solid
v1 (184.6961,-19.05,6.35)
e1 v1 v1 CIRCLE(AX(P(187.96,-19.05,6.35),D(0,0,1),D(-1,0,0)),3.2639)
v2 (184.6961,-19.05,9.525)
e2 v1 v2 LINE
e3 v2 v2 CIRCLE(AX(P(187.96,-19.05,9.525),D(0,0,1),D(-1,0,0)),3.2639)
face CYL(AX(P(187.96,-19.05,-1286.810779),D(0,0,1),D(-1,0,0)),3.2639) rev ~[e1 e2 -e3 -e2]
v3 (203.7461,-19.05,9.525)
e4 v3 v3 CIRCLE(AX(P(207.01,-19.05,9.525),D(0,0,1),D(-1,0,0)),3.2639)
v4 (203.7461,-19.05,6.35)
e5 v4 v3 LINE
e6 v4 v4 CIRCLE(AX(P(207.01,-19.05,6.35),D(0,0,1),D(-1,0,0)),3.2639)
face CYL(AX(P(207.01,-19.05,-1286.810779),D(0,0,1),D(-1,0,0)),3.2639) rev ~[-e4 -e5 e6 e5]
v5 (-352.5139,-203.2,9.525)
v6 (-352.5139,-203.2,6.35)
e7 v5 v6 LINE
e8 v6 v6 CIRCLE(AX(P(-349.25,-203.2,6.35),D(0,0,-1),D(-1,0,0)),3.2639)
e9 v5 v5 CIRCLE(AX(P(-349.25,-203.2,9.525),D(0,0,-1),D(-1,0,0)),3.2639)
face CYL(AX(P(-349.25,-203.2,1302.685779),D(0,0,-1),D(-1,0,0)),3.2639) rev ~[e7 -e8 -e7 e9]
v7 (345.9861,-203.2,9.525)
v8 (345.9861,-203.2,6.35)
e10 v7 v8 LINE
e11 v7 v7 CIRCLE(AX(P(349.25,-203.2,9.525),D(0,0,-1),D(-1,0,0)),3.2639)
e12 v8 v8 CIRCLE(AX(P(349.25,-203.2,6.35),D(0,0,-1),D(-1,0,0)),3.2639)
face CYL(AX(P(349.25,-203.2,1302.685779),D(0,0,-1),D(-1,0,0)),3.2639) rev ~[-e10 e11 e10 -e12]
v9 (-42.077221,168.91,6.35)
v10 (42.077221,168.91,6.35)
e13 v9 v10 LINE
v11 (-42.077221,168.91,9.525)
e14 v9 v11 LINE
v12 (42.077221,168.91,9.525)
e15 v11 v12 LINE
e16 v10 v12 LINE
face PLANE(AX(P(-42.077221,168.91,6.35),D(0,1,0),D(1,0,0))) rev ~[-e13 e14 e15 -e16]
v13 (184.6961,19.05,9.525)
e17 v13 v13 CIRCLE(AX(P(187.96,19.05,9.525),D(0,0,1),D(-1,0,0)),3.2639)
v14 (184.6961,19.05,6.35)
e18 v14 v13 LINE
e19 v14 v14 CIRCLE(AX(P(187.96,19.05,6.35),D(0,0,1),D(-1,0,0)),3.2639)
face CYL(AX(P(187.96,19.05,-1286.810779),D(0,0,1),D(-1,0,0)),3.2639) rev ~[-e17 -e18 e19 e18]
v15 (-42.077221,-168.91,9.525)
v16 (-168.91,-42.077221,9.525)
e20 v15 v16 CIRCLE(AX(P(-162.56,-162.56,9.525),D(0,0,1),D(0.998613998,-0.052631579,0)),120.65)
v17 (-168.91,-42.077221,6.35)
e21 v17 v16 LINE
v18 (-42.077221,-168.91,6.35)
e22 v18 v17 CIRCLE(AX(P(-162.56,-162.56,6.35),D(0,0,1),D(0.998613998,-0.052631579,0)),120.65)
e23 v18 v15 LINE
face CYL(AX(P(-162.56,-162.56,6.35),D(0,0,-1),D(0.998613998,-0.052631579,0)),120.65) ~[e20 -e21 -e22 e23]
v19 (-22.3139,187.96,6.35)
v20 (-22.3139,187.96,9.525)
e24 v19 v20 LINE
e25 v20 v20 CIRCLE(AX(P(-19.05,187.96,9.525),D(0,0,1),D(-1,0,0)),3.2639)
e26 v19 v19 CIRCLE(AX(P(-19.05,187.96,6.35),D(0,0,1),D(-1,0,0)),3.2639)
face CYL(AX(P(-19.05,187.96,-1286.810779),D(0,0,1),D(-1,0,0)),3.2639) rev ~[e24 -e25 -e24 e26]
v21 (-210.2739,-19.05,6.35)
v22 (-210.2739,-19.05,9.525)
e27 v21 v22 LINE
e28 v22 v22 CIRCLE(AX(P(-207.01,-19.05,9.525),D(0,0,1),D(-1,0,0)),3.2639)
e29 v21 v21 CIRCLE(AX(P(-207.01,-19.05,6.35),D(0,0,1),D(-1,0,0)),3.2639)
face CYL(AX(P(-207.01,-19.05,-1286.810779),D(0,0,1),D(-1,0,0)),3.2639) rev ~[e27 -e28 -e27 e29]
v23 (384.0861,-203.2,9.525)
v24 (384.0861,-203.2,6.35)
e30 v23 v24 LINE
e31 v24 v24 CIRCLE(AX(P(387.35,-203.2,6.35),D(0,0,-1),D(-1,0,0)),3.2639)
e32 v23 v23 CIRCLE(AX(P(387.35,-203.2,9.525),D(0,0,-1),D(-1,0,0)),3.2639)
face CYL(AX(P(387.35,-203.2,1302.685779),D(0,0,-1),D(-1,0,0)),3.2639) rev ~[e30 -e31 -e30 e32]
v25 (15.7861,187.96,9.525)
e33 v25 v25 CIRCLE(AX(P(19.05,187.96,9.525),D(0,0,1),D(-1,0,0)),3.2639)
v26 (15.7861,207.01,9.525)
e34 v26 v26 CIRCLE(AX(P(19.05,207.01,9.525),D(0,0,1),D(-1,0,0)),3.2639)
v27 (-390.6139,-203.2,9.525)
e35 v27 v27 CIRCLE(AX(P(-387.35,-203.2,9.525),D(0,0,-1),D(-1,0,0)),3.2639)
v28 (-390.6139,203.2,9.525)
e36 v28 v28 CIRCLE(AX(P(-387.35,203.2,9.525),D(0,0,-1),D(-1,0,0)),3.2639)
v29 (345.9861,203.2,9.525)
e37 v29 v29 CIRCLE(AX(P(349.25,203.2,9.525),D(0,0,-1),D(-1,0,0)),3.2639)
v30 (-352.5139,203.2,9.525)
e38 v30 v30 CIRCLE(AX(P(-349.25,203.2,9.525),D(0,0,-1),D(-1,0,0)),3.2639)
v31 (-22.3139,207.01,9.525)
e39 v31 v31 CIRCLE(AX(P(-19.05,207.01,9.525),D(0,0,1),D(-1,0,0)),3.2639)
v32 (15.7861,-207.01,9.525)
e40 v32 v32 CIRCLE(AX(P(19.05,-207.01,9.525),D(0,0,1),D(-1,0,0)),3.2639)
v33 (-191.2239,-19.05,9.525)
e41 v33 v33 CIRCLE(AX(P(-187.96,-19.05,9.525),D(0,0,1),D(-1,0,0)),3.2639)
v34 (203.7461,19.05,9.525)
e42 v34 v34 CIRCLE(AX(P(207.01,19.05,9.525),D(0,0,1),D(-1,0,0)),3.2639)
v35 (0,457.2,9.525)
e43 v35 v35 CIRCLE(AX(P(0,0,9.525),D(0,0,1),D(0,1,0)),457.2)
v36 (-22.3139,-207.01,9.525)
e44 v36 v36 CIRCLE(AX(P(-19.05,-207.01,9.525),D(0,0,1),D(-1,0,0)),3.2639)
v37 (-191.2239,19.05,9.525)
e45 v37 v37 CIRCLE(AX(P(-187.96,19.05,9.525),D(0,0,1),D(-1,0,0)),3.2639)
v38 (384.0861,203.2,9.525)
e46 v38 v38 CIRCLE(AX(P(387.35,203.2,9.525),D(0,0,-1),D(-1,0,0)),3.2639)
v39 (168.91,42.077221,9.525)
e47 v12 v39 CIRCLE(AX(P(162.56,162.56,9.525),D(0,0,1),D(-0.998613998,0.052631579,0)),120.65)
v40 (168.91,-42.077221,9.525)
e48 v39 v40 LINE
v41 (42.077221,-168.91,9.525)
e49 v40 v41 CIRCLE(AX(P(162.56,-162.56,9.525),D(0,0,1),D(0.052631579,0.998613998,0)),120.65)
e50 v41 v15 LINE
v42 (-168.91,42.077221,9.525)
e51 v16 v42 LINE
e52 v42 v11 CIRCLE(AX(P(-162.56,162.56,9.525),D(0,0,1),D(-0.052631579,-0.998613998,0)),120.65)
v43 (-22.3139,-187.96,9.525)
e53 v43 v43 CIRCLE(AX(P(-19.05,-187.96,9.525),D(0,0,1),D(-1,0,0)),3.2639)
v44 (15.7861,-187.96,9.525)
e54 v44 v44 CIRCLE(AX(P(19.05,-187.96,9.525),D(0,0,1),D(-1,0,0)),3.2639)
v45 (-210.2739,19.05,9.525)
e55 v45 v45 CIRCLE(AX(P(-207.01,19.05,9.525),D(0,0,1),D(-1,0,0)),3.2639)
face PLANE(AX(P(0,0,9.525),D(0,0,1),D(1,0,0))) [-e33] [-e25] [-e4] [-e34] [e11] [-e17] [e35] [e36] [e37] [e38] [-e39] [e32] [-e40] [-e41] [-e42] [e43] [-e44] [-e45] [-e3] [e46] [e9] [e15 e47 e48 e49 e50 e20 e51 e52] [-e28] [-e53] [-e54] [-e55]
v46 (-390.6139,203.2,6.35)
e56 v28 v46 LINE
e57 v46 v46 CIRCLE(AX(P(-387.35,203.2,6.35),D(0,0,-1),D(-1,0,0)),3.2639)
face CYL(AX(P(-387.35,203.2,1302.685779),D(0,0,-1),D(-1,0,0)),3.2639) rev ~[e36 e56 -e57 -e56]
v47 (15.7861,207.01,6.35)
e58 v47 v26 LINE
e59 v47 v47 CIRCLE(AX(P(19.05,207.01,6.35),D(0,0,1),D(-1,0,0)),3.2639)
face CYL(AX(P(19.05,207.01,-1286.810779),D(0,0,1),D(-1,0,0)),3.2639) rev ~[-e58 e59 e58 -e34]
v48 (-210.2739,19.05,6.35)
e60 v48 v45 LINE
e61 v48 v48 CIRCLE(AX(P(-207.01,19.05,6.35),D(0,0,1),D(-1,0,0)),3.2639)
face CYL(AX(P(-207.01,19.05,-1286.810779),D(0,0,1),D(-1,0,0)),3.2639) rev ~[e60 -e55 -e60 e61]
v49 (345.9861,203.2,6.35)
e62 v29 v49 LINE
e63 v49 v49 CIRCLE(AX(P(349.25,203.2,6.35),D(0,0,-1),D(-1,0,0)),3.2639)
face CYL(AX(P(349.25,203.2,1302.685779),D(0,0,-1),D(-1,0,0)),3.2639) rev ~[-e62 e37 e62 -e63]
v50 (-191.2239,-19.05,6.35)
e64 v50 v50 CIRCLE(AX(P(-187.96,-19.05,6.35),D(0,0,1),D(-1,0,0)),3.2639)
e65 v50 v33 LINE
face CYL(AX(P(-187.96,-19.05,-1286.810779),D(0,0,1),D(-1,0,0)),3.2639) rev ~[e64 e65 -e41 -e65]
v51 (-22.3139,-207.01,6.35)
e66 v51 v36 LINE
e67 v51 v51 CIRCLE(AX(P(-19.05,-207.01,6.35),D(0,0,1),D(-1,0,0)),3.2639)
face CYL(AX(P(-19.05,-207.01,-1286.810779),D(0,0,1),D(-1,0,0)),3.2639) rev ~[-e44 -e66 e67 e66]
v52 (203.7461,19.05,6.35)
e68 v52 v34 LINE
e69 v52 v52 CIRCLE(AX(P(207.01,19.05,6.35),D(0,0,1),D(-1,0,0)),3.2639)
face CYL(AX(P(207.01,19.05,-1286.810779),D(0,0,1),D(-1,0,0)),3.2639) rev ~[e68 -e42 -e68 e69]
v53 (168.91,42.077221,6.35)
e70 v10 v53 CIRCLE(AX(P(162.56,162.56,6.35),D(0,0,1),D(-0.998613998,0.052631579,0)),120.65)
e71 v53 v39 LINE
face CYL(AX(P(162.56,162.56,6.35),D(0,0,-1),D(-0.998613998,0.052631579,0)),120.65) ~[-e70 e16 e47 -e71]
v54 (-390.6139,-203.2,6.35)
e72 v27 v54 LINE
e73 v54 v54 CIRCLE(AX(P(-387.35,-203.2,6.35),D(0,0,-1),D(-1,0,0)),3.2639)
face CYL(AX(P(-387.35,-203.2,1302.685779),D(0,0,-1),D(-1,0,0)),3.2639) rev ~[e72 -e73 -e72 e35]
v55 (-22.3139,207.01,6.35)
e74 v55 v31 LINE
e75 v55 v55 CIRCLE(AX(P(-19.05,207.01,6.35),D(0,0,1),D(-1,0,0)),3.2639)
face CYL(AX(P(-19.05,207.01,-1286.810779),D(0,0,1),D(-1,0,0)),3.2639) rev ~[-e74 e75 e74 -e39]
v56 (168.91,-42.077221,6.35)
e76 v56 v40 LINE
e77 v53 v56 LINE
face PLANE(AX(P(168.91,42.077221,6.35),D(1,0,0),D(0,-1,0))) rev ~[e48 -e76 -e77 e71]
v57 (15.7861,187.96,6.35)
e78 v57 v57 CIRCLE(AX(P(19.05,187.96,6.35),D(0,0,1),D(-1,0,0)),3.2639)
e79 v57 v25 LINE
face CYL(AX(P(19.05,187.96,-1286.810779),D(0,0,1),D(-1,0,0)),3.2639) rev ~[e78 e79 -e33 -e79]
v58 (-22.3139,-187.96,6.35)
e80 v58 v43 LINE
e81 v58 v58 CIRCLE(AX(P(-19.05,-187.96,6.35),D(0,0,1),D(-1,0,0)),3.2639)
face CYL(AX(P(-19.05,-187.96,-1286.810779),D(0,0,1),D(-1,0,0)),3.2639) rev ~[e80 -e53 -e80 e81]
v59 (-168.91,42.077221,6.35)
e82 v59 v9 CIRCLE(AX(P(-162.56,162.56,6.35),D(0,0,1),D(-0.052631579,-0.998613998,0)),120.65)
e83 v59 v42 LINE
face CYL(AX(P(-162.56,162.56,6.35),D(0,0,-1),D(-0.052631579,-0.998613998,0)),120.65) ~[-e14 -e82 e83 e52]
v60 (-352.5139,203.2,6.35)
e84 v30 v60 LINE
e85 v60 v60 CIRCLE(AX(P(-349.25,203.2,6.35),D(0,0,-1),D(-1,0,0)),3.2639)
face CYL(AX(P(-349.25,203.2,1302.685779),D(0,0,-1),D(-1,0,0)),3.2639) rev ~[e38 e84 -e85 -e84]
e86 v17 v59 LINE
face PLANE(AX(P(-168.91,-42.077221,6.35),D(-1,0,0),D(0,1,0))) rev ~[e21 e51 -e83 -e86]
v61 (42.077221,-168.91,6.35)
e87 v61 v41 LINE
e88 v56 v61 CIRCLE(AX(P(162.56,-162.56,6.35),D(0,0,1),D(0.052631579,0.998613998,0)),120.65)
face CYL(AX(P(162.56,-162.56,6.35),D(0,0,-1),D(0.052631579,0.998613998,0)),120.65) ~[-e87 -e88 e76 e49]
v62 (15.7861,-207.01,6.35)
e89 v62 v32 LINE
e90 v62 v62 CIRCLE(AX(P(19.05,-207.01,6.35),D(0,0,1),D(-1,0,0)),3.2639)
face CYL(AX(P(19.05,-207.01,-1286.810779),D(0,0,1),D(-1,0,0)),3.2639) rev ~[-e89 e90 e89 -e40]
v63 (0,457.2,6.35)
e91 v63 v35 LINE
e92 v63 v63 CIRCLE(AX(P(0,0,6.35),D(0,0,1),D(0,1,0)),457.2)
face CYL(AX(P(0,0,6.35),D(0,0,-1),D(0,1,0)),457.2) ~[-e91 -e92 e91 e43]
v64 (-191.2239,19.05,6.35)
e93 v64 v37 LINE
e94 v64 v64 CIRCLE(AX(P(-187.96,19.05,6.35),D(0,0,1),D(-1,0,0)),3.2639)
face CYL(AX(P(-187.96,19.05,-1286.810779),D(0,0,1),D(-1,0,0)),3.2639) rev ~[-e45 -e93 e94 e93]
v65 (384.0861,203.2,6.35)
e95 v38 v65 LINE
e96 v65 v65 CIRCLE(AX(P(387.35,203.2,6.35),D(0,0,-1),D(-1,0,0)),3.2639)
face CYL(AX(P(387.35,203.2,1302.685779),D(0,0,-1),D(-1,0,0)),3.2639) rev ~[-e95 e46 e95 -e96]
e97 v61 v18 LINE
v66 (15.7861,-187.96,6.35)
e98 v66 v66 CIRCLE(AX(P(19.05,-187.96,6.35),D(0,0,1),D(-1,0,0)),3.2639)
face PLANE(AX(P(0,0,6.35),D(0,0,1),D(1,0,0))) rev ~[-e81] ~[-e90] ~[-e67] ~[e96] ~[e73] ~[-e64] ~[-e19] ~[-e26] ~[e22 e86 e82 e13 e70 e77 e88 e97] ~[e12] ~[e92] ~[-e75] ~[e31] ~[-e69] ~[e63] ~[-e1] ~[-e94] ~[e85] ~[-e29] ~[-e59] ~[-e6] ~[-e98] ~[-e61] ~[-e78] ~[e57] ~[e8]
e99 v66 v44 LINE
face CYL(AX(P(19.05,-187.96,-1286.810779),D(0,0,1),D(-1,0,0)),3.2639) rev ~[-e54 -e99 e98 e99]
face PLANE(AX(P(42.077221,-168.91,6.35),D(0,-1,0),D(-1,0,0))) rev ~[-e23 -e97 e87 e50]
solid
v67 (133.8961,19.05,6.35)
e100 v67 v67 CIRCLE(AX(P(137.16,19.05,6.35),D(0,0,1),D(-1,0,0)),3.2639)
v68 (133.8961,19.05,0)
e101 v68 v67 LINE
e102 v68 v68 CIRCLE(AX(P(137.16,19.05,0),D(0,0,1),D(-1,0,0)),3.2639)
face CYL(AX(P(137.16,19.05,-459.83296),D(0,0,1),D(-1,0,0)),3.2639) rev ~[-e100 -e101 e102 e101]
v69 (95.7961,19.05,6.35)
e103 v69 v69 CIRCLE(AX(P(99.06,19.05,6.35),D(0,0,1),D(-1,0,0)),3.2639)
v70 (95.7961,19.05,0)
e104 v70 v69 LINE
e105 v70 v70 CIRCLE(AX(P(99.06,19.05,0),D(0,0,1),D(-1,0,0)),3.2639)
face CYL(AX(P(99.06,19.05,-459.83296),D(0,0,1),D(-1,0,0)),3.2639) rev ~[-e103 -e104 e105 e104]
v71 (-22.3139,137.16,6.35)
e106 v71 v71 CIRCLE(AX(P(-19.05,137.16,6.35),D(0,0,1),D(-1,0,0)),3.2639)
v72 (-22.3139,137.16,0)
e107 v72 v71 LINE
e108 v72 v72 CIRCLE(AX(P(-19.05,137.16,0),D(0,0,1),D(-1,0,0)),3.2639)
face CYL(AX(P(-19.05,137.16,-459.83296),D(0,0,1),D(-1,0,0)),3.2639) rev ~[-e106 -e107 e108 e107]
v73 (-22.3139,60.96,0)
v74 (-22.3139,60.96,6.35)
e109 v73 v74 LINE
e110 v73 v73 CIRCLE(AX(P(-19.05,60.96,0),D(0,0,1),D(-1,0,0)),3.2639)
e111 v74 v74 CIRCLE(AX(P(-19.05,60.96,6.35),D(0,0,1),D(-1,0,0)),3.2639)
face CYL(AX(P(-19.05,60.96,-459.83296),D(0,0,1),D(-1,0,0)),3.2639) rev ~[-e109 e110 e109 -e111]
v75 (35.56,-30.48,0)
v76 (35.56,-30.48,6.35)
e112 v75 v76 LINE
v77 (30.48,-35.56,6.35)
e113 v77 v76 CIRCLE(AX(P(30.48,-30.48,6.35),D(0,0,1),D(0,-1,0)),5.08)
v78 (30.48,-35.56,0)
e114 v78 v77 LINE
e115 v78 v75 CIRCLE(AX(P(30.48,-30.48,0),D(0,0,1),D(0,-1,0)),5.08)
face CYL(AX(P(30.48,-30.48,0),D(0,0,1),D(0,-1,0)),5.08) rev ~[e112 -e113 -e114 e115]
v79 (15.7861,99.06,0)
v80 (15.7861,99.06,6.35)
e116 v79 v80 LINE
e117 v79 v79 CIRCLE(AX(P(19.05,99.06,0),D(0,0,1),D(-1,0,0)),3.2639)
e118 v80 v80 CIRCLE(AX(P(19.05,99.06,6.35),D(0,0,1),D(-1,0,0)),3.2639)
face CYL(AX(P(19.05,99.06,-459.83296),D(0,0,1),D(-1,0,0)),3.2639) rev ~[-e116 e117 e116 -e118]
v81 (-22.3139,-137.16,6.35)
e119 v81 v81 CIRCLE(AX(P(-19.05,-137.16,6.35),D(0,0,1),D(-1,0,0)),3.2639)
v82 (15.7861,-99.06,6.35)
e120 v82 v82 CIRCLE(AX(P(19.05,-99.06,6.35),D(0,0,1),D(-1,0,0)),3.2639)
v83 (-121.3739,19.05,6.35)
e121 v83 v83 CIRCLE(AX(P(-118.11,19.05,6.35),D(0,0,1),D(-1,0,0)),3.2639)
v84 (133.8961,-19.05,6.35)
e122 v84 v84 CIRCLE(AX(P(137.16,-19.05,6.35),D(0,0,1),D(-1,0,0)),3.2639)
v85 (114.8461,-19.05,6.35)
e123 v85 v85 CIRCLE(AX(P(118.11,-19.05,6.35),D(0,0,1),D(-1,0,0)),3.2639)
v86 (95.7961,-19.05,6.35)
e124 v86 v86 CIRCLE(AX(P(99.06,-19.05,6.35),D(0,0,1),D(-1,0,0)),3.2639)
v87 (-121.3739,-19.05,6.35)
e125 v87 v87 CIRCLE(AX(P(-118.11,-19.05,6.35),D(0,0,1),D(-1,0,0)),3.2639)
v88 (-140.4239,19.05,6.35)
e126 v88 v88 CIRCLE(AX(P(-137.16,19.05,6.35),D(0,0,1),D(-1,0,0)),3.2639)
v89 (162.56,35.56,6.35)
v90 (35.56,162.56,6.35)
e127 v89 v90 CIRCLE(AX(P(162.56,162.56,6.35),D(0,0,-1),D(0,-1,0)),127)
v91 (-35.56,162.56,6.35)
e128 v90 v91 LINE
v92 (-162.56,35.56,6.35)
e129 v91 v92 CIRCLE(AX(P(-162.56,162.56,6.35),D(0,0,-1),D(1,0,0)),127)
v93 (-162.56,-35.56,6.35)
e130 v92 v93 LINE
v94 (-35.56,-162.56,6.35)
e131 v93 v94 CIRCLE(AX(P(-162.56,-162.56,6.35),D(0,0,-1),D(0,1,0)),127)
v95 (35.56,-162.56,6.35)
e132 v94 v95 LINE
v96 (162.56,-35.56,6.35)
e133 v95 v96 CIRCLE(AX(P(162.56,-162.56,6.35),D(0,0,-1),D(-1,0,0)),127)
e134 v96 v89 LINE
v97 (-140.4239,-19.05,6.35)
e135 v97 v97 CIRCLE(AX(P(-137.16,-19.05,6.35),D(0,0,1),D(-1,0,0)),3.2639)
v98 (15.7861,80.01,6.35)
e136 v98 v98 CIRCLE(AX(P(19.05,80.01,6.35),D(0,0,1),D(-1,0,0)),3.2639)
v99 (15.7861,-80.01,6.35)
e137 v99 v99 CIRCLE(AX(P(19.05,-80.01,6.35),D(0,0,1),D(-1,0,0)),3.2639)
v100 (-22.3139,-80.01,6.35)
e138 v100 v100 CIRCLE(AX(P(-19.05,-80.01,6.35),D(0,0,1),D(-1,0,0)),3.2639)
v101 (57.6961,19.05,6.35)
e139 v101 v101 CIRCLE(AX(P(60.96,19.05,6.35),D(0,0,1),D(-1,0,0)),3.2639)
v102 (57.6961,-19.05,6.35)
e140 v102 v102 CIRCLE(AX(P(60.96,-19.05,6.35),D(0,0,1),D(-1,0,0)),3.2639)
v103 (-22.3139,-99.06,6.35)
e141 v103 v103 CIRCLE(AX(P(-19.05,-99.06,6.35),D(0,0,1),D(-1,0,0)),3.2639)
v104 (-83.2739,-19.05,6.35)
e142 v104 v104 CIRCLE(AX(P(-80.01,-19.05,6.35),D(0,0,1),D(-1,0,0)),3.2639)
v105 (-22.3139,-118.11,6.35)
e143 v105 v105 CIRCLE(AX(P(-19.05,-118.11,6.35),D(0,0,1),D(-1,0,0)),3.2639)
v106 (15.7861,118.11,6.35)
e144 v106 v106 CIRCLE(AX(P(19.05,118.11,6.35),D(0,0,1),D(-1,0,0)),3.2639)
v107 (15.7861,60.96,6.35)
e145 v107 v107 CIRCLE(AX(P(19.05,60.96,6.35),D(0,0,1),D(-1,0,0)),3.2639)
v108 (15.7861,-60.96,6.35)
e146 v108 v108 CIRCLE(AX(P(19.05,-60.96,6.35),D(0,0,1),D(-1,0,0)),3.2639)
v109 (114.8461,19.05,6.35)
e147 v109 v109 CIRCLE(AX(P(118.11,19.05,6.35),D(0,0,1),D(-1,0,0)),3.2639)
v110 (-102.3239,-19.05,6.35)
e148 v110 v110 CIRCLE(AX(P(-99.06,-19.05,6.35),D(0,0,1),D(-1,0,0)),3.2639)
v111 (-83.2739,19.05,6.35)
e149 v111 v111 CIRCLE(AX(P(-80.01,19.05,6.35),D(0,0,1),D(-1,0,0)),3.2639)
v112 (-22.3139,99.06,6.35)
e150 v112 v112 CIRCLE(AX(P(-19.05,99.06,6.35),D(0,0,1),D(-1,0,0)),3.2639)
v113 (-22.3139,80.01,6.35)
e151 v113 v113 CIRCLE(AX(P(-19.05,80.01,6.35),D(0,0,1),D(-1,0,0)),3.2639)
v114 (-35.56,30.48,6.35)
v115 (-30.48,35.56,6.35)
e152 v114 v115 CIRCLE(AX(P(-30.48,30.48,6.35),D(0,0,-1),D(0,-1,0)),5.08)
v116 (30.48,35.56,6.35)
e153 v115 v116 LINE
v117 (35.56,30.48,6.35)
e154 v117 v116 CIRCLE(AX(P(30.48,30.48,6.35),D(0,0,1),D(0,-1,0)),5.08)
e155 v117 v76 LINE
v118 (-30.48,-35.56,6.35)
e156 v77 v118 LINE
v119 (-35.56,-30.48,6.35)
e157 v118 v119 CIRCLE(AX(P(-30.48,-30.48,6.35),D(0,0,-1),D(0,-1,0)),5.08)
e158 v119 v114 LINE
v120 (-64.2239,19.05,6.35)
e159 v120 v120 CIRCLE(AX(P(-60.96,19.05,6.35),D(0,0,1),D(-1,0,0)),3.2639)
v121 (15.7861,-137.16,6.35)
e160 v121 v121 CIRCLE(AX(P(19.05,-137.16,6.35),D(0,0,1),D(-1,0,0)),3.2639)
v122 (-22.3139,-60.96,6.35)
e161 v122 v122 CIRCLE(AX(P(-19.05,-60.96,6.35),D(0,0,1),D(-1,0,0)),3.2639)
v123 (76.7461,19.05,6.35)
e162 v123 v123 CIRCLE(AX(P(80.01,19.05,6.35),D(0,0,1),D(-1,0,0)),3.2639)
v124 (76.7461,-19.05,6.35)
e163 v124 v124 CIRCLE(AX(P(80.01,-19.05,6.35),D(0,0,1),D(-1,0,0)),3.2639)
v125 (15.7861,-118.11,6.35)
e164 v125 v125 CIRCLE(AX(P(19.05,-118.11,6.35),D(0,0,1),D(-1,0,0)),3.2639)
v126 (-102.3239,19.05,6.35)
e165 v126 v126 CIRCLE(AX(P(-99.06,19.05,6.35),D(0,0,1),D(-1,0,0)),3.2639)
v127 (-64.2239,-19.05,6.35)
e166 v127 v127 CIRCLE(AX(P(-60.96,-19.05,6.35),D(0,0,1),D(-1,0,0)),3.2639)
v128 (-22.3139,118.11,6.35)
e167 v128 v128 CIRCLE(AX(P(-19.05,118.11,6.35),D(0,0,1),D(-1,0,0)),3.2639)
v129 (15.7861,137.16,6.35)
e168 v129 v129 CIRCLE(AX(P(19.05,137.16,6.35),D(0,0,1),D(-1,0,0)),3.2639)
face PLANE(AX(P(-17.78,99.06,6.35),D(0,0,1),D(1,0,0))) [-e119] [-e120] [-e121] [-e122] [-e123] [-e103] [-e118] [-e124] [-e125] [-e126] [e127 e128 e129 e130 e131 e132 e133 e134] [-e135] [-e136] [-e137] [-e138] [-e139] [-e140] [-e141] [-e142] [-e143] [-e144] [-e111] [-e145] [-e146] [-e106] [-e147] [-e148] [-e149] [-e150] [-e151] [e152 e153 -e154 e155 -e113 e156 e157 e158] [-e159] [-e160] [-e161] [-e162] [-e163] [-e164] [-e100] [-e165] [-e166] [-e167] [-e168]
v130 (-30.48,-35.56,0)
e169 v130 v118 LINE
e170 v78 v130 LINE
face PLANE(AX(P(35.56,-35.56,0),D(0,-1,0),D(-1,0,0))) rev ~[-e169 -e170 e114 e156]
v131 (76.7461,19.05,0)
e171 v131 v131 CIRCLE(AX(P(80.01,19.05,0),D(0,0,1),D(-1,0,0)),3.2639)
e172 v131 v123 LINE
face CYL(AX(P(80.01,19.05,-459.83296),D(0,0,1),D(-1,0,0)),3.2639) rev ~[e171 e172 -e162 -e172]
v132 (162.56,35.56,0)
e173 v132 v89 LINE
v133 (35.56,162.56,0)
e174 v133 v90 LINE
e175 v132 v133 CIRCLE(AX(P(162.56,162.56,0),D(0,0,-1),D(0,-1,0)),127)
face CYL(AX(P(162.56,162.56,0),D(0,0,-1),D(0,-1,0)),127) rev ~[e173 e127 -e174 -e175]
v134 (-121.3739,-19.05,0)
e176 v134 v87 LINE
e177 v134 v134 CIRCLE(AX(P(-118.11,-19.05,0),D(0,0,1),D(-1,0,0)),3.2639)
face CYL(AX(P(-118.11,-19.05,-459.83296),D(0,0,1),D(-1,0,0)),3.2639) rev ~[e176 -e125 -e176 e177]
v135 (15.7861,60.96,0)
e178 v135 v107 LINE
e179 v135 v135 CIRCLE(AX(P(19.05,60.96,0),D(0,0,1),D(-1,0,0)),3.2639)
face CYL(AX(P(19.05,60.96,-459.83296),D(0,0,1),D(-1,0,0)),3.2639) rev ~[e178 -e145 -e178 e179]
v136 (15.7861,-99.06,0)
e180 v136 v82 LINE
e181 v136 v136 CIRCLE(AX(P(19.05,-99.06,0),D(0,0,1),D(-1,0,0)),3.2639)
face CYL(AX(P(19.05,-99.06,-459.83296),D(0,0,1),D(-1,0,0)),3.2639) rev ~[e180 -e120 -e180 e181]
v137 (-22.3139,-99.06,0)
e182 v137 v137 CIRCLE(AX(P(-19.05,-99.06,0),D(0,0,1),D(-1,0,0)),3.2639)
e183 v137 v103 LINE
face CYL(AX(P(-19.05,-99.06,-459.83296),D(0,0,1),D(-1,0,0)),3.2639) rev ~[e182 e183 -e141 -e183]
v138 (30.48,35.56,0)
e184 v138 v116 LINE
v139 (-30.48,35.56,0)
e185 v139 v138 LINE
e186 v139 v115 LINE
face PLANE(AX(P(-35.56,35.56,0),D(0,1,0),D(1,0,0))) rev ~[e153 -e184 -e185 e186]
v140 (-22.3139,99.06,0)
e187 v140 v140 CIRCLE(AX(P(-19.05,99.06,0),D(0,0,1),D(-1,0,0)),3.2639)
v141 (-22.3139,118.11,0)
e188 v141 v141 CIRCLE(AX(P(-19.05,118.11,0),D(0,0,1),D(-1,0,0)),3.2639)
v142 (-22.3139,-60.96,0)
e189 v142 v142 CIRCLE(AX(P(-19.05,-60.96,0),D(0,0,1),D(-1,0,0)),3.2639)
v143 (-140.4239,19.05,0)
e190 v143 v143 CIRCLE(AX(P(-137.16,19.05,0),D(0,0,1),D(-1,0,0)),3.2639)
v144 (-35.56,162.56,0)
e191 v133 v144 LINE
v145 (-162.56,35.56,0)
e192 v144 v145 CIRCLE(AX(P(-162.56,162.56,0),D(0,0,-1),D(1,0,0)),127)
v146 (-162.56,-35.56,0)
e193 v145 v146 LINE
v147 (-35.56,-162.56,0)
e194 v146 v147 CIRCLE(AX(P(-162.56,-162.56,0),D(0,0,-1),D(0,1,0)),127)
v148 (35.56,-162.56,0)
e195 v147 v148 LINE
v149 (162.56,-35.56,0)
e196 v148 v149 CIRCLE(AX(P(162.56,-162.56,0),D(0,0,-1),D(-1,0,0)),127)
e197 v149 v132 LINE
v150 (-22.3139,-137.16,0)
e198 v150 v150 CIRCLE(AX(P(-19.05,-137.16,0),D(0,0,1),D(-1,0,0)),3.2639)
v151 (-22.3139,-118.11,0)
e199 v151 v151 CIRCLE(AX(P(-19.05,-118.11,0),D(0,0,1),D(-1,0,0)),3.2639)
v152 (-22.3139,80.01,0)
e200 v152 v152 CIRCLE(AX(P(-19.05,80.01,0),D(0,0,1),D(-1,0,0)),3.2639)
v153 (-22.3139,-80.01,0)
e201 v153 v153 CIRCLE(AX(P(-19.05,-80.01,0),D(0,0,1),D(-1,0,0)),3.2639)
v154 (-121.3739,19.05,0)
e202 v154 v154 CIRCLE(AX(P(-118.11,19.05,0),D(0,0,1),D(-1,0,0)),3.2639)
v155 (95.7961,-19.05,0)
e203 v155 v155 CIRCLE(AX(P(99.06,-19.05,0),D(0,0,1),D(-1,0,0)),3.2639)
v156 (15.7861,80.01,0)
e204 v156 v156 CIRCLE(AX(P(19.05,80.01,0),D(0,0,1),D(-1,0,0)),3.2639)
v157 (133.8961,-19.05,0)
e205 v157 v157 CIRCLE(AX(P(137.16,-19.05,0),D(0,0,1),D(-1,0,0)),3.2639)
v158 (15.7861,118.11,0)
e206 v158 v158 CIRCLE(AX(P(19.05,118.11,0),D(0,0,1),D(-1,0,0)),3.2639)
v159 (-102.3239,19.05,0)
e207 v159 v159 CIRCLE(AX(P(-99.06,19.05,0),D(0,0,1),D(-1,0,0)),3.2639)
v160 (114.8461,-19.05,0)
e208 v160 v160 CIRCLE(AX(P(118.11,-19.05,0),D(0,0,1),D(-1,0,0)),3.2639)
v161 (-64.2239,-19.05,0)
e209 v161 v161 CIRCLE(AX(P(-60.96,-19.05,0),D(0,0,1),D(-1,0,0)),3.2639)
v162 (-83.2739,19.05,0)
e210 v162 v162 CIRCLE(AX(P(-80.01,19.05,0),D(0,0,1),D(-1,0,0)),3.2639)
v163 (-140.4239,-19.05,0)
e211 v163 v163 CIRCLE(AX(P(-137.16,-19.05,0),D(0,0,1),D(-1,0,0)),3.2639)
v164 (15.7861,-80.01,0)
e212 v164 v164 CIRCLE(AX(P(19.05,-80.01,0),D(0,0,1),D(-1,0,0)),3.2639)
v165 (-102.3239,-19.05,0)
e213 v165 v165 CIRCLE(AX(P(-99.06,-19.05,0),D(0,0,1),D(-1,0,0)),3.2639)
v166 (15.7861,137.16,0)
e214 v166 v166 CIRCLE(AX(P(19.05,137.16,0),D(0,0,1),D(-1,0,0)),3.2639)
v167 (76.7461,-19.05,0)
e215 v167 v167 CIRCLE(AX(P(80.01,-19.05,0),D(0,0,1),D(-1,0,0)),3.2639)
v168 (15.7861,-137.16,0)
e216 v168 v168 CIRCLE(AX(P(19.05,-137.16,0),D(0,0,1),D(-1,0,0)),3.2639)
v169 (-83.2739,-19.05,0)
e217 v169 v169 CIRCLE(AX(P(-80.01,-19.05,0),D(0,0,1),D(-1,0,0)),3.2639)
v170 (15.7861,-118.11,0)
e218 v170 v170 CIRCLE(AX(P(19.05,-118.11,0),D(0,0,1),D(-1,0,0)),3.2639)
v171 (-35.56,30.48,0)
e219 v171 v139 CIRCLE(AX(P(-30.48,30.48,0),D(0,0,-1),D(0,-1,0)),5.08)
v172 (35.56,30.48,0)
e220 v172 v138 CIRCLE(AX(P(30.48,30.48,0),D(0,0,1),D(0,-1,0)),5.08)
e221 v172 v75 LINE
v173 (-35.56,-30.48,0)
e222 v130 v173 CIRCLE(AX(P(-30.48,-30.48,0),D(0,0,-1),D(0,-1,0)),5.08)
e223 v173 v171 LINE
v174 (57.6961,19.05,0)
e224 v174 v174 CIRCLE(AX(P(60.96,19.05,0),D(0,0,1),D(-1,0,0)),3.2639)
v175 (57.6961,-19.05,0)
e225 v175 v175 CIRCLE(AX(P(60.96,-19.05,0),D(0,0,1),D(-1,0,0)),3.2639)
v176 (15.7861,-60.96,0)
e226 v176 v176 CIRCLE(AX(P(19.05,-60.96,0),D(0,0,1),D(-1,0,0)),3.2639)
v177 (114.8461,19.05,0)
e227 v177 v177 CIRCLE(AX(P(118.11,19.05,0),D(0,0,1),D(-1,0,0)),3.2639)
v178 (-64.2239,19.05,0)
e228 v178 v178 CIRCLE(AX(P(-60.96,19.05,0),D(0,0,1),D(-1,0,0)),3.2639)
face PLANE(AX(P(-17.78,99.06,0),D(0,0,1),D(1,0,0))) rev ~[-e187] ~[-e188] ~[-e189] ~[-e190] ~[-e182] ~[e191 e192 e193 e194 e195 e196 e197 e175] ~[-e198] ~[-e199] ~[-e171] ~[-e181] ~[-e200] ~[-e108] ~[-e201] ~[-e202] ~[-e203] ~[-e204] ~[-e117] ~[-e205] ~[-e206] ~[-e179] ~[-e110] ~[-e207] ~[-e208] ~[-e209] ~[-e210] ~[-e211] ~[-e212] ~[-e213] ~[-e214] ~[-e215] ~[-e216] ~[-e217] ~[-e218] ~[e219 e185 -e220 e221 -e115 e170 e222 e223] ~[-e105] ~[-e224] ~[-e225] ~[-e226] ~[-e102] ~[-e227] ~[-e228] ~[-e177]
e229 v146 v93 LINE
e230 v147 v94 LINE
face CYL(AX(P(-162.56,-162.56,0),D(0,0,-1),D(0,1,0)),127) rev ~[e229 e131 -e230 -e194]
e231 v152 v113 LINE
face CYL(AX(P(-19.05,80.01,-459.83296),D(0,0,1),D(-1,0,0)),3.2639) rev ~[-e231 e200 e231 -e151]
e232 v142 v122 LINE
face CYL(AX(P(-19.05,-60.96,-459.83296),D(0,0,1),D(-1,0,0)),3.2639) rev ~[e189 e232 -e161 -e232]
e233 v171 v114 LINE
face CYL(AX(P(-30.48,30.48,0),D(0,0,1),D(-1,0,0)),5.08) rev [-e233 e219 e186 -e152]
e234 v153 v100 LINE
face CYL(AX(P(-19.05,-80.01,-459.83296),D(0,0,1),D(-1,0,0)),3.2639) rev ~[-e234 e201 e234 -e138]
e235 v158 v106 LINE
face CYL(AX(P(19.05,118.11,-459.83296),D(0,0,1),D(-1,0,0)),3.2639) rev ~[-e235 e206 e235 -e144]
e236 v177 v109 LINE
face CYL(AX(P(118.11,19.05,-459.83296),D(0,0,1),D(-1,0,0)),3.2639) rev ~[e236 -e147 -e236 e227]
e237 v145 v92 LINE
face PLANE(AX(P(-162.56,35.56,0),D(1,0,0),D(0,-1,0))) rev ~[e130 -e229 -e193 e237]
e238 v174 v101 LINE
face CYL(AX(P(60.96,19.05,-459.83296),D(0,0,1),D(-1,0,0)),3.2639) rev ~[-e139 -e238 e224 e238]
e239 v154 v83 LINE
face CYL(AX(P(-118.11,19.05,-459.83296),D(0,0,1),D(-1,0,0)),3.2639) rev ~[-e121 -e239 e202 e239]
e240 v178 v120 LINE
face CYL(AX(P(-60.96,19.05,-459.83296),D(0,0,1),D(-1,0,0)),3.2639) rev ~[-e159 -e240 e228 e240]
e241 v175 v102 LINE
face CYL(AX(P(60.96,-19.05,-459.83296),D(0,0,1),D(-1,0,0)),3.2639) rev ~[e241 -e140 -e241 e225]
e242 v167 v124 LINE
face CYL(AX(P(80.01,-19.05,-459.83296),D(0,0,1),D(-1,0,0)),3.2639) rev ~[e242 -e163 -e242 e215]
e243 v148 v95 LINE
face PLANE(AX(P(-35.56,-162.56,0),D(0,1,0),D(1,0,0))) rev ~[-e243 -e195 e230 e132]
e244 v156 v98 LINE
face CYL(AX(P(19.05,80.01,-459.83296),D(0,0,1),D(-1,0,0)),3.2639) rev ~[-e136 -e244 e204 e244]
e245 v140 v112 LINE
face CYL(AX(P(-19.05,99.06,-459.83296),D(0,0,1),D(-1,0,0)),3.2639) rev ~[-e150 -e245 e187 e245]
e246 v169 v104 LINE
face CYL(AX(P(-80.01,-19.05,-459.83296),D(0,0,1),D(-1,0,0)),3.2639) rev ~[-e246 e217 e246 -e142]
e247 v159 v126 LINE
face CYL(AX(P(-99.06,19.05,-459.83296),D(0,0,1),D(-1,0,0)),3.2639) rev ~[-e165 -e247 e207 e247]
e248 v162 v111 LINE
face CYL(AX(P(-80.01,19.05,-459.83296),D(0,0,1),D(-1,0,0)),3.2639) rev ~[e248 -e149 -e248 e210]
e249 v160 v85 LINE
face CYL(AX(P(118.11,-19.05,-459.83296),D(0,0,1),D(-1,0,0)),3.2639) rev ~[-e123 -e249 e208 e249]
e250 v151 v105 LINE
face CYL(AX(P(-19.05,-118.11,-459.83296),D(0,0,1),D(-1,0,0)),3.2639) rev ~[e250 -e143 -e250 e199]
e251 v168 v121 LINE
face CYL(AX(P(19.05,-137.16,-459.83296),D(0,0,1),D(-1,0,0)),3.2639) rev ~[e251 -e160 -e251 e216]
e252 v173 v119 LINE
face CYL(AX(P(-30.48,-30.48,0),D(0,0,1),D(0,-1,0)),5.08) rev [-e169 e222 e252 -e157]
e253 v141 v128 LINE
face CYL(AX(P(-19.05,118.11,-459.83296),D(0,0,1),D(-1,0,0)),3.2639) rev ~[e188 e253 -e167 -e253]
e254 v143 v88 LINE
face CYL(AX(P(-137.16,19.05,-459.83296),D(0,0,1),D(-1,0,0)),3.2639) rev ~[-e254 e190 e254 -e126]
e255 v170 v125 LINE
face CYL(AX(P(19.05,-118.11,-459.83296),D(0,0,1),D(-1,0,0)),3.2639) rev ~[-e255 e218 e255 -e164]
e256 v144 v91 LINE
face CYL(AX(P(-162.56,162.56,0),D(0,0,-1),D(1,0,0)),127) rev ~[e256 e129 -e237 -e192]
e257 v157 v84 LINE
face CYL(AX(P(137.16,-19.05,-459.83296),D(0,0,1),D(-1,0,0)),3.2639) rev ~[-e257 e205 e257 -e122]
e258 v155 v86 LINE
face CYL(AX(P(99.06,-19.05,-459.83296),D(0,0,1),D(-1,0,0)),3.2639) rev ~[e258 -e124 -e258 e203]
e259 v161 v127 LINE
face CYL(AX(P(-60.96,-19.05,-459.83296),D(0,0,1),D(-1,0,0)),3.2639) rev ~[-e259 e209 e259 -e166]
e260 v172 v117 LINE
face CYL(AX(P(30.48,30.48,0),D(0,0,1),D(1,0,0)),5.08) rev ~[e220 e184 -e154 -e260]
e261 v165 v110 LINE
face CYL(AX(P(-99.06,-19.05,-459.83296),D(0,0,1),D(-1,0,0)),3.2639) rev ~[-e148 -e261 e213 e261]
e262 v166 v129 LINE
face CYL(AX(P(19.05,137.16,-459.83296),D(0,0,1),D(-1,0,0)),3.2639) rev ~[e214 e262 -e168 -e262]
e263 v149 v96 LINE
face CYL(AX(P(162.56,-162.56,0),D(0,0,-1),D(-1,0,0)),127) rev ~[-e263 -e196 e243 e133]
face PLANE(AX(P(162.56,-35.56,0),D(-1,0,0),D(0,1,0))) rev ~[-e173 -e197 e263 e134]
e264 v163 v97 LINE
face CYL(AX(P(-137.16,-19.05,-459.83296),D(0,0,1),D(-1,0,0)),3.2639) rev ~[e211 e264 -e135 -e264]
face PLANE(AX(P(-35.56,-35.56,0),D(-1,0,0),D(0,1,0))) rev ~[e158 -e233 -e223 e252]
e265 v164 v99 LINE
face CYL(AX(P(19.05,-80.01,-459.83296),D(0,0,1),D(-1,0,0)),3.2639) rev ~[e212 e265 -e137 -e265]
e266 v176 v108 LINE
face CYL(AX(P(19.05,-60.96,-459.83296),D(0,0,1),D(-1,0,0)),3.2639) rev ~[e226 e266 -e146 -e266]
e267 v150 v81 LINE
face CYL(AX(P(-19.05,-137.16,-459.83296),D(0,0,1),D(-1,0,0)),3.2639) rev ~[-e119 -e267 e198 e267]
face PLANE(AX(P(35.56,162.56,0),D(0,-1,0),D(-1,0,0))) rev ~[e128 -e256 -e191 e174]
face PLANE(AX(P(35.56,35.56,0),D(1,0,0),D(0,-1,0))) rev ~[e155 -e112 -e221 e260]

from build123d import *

# Parameters (mm, degrees)
F1_DEPTH = 6.35
F2_D     = 6.5278
F3_R     = 5.08
F5_DEPTH = 3.175
F6_D     = 6.5278
F8_D     = 6.5278


with BuildPart() as f1:
    # F0 (on Top) → F1 (new body)
    with BuildSketch(Plane.XY):
        Polygon((-35.56, 35.56), (0, 35.56), (0, 60.96), (0, 162.56), (-35.56, 162.56), align=None)
        Polygon((0, 35.56), (35.56, 35.56), (35.56, 162.56), (0, 162.56), (0, 60.96), align=None)
        with BuildLine():
            Line((-162.56, 35.56), (-35.56, 35.56))
            Line((-35.56, 35.56), (-35.56, 162.56))
            ThreePointArc((-35.56, 162.56), (-72.7574387893, 72.7574387893), (-162.56, 35.56))
        make_face()
        with BuildLine():
            Line((35.56, 162.56), (35.56, 35.56))
            Line((35.56, 35.56), (162.56, 35.56))
            ThreePointArc((162.56, 35.56), (72.7574387893, 72.7574387893), (35.56, 162.56))
        make_face()
        Polygon((-60.96, 0), (-35.56, 0), (-35.56, 35.56), (-162.56, 35.56), (-162.56, 0), align=None)
        Polygon((-162.56, -35.56), (-35.56, -35.56), (-35.56, 0), (-60.96, 0), (-162.56, 0), align=None)
        Polygon((35.56, 35.56), (35.56, 0), (60.96, 0), (162.56, 0), (162.56, 35.56), align=None)
        Polygon((35.56, 0), (35.56, -35.56), (162.56, -35.56), (162.56, 0), (60.96, 0), align=None)
        with BuildLine():
            Line((162.56, -35.56), (35.56, -35.56))
            Line((35.56, -35.56), (35.56, -162.56))
            ThreePointArc((35.56, -162.56), (72.7574387893, -72.7574387893), (162.56, -35.56))
        make_face()
        Polygon((35.56, -162.56), (35.56, -35.56), (0, -35.56), (0, -60.96), (0, -162.56), align=None)
        Polygon((0, -60.96), (0, -35.56), (-35.56, -35.56), (-35.56, -162.56), (0, -162.56), align=None)
        with BuildLine():
            Line((-35.56, -162.56), (-35.56, -35.56))
            Line((-35.56, -35.56), (-162.56, -35.56))
            ThreePointArc((-162.56, -35.56), (-72.7574387893, -72.7574387893), (-35.56, -162.56))
        make_face()
    extrude(amount=F1_DEPTH)

    # F2 (through all)
    with Locations(Plane(origin=(0, 0, 0), x_dir=(1, 0, 0), z_dir=(0, 0, -1))):
        with Locations((-19.05, -60.96), (19.05, -60.96), (19.05, -80.01), (19.05, -99.06), (19.05, -118.11), (19.05, -137.16), (-19.05, -80.01), (-19.05, -99.06), (-19.05, -118.11), (-19.05, -137.16), (60.96, -19.05), (60.96, 19.05), (80.01, -19.05), (80.01, 19.05), (99.06, -19.05), (99.06, 19.05), (118.11, -19.05), (118.11, 19.05), (137.16, -19.05), (137.16, 19.05), (19.05, 60.96), (-19.05, 60.96), (-19.05, 80.01), (19.05, 80.01), (-19.05, 99.06), (-19.05, 118.11), (19.05, 99.06), (19.05, 118.11), (-19.05, 137.16), (19.05, 137.16), (-60.96, -19.05), (-60.96, 19.05), (-80.01, -19.05), (-80.01, 19.05), (-99.06, -19.05), (-99.06, 19.05), (-118.11, -19.05), (-118.11, 19.05), (-137.16, 19.05), (-137.16, -19.05)):
            Hole(F2_D / 2)

    # F3
    f3_edges = [f1.edges().sort_by_distance(p)[0] for p in [
        (-35.56, -35.56, 3.175),
        (-35.56, 35.56, 3.175),
        (35.56, 35.56, 3.175),
        (35.56, -35.56, 3.175),
    ]]
    fillet(f3_edges, radius=F3_R)


with BuildPart() as f5:
    # F4 (on face) → F5 (new body)
    with BuildSketch(Plane.XY.offset(6.35)):
        with BuildLine():
            ThreePointArc((457.2, 0), (323.2892203585, 323.2892203585), (0, 457.2))
            ThreePointArc((0, 457.2), (-323.2892203585, -323.2892203585), (457.2, 0))
        make_face()
        with BuildLine():
            Line((19.05, -168.91), (0, -168.91))
            Line((0, -168.91), (-19.05, -168.91))
            Line((-19.05, -168.91), (-42.0772211476, -168.91))
            ThreePointArc((-42.0772211476, -168.91), (-77.2475668498, -77.2475668498), (-168.91, -42.0772211476))
            Line((-168.91, -42.0772211476), (-168.91, -19.05))
            Line((-168.91, -19.05), (-168.91, 0))
            Line((-168.91, 0), (-168.91, 19.05))
            Line((-168.91, 19.05), (-168.91, 42.0772211476))
            ThreePointArc((-168.91, 42.0772211476), (-77.2475668498, 77.2475668498), (-42.0772211476, 168.91))
            Line((-42.0772211476, 168.91), (-19.05, 168.91))
            Line((-19.05, 168.91), (0, 168.91))
            Line((0, 168.91), (19.05, 168.91))
            Line((19.05, 168.91), (42.0772211476, 168.91))
            ThreePointArc((42.0772211476, 168.91), (77.2475668498, 77.2475668498), (168.91, 42.0772211476))
            Line((168.91, 42.0772211476), (168.91, 19.05))
            Line((168.91, 19.05), (168.91, 0))
            Line((168.91, 0), (168.91, -19.05))
            Line((168.91, -19.05), (168.91, -42.0772211476))
            ThreePointArc((168.91, -42.0772211476), (77.2475668498, -77.2475668498), (42.0772211476, -168.91))
            Line((42.0772211476, -168.91), (19.05, -168.91))
        make_face(mode=Mode.SUBTRACT)
    extrude(amount=F5_DEPTH)

    # F6 (through all)
    with Locations(Plane(origin=(0, 0, 6.35), x_dir=(1, 0, 0), z_dir=(0, 0, -1))):
        with Locations((-19.05, -187.96), (-19.05, -207.01), (19.05, -187.96), (19.05, -207.01), (187.96, -19.05), (207.01, -19.05), (187.96, 19.05), (207.01, 19.05), (-19.05, 187.96), (19.05, 187.96), (-19.05, 207.01), (19.05, 207.01), (-187.96, 19.05), (-187.96, -19.05), (-207.01, 19.05), (-207.01, -19.05)):
            Hole(F6_D / 2)

    # F8 (through all)
    with Locations(Plane.XY.offset(9.525)):
        with Locations((-387.35, 203.2), (-349.25, 203.2), (387.35, 203.2), (349.25, 203.2), (-387.35, -203.2), (-349.25, -203.2), (349.25, -203.2), (387.35, -203.2)):
            Hole(F8_D / 2)


solid = Compound([f1.part, f5.part])
